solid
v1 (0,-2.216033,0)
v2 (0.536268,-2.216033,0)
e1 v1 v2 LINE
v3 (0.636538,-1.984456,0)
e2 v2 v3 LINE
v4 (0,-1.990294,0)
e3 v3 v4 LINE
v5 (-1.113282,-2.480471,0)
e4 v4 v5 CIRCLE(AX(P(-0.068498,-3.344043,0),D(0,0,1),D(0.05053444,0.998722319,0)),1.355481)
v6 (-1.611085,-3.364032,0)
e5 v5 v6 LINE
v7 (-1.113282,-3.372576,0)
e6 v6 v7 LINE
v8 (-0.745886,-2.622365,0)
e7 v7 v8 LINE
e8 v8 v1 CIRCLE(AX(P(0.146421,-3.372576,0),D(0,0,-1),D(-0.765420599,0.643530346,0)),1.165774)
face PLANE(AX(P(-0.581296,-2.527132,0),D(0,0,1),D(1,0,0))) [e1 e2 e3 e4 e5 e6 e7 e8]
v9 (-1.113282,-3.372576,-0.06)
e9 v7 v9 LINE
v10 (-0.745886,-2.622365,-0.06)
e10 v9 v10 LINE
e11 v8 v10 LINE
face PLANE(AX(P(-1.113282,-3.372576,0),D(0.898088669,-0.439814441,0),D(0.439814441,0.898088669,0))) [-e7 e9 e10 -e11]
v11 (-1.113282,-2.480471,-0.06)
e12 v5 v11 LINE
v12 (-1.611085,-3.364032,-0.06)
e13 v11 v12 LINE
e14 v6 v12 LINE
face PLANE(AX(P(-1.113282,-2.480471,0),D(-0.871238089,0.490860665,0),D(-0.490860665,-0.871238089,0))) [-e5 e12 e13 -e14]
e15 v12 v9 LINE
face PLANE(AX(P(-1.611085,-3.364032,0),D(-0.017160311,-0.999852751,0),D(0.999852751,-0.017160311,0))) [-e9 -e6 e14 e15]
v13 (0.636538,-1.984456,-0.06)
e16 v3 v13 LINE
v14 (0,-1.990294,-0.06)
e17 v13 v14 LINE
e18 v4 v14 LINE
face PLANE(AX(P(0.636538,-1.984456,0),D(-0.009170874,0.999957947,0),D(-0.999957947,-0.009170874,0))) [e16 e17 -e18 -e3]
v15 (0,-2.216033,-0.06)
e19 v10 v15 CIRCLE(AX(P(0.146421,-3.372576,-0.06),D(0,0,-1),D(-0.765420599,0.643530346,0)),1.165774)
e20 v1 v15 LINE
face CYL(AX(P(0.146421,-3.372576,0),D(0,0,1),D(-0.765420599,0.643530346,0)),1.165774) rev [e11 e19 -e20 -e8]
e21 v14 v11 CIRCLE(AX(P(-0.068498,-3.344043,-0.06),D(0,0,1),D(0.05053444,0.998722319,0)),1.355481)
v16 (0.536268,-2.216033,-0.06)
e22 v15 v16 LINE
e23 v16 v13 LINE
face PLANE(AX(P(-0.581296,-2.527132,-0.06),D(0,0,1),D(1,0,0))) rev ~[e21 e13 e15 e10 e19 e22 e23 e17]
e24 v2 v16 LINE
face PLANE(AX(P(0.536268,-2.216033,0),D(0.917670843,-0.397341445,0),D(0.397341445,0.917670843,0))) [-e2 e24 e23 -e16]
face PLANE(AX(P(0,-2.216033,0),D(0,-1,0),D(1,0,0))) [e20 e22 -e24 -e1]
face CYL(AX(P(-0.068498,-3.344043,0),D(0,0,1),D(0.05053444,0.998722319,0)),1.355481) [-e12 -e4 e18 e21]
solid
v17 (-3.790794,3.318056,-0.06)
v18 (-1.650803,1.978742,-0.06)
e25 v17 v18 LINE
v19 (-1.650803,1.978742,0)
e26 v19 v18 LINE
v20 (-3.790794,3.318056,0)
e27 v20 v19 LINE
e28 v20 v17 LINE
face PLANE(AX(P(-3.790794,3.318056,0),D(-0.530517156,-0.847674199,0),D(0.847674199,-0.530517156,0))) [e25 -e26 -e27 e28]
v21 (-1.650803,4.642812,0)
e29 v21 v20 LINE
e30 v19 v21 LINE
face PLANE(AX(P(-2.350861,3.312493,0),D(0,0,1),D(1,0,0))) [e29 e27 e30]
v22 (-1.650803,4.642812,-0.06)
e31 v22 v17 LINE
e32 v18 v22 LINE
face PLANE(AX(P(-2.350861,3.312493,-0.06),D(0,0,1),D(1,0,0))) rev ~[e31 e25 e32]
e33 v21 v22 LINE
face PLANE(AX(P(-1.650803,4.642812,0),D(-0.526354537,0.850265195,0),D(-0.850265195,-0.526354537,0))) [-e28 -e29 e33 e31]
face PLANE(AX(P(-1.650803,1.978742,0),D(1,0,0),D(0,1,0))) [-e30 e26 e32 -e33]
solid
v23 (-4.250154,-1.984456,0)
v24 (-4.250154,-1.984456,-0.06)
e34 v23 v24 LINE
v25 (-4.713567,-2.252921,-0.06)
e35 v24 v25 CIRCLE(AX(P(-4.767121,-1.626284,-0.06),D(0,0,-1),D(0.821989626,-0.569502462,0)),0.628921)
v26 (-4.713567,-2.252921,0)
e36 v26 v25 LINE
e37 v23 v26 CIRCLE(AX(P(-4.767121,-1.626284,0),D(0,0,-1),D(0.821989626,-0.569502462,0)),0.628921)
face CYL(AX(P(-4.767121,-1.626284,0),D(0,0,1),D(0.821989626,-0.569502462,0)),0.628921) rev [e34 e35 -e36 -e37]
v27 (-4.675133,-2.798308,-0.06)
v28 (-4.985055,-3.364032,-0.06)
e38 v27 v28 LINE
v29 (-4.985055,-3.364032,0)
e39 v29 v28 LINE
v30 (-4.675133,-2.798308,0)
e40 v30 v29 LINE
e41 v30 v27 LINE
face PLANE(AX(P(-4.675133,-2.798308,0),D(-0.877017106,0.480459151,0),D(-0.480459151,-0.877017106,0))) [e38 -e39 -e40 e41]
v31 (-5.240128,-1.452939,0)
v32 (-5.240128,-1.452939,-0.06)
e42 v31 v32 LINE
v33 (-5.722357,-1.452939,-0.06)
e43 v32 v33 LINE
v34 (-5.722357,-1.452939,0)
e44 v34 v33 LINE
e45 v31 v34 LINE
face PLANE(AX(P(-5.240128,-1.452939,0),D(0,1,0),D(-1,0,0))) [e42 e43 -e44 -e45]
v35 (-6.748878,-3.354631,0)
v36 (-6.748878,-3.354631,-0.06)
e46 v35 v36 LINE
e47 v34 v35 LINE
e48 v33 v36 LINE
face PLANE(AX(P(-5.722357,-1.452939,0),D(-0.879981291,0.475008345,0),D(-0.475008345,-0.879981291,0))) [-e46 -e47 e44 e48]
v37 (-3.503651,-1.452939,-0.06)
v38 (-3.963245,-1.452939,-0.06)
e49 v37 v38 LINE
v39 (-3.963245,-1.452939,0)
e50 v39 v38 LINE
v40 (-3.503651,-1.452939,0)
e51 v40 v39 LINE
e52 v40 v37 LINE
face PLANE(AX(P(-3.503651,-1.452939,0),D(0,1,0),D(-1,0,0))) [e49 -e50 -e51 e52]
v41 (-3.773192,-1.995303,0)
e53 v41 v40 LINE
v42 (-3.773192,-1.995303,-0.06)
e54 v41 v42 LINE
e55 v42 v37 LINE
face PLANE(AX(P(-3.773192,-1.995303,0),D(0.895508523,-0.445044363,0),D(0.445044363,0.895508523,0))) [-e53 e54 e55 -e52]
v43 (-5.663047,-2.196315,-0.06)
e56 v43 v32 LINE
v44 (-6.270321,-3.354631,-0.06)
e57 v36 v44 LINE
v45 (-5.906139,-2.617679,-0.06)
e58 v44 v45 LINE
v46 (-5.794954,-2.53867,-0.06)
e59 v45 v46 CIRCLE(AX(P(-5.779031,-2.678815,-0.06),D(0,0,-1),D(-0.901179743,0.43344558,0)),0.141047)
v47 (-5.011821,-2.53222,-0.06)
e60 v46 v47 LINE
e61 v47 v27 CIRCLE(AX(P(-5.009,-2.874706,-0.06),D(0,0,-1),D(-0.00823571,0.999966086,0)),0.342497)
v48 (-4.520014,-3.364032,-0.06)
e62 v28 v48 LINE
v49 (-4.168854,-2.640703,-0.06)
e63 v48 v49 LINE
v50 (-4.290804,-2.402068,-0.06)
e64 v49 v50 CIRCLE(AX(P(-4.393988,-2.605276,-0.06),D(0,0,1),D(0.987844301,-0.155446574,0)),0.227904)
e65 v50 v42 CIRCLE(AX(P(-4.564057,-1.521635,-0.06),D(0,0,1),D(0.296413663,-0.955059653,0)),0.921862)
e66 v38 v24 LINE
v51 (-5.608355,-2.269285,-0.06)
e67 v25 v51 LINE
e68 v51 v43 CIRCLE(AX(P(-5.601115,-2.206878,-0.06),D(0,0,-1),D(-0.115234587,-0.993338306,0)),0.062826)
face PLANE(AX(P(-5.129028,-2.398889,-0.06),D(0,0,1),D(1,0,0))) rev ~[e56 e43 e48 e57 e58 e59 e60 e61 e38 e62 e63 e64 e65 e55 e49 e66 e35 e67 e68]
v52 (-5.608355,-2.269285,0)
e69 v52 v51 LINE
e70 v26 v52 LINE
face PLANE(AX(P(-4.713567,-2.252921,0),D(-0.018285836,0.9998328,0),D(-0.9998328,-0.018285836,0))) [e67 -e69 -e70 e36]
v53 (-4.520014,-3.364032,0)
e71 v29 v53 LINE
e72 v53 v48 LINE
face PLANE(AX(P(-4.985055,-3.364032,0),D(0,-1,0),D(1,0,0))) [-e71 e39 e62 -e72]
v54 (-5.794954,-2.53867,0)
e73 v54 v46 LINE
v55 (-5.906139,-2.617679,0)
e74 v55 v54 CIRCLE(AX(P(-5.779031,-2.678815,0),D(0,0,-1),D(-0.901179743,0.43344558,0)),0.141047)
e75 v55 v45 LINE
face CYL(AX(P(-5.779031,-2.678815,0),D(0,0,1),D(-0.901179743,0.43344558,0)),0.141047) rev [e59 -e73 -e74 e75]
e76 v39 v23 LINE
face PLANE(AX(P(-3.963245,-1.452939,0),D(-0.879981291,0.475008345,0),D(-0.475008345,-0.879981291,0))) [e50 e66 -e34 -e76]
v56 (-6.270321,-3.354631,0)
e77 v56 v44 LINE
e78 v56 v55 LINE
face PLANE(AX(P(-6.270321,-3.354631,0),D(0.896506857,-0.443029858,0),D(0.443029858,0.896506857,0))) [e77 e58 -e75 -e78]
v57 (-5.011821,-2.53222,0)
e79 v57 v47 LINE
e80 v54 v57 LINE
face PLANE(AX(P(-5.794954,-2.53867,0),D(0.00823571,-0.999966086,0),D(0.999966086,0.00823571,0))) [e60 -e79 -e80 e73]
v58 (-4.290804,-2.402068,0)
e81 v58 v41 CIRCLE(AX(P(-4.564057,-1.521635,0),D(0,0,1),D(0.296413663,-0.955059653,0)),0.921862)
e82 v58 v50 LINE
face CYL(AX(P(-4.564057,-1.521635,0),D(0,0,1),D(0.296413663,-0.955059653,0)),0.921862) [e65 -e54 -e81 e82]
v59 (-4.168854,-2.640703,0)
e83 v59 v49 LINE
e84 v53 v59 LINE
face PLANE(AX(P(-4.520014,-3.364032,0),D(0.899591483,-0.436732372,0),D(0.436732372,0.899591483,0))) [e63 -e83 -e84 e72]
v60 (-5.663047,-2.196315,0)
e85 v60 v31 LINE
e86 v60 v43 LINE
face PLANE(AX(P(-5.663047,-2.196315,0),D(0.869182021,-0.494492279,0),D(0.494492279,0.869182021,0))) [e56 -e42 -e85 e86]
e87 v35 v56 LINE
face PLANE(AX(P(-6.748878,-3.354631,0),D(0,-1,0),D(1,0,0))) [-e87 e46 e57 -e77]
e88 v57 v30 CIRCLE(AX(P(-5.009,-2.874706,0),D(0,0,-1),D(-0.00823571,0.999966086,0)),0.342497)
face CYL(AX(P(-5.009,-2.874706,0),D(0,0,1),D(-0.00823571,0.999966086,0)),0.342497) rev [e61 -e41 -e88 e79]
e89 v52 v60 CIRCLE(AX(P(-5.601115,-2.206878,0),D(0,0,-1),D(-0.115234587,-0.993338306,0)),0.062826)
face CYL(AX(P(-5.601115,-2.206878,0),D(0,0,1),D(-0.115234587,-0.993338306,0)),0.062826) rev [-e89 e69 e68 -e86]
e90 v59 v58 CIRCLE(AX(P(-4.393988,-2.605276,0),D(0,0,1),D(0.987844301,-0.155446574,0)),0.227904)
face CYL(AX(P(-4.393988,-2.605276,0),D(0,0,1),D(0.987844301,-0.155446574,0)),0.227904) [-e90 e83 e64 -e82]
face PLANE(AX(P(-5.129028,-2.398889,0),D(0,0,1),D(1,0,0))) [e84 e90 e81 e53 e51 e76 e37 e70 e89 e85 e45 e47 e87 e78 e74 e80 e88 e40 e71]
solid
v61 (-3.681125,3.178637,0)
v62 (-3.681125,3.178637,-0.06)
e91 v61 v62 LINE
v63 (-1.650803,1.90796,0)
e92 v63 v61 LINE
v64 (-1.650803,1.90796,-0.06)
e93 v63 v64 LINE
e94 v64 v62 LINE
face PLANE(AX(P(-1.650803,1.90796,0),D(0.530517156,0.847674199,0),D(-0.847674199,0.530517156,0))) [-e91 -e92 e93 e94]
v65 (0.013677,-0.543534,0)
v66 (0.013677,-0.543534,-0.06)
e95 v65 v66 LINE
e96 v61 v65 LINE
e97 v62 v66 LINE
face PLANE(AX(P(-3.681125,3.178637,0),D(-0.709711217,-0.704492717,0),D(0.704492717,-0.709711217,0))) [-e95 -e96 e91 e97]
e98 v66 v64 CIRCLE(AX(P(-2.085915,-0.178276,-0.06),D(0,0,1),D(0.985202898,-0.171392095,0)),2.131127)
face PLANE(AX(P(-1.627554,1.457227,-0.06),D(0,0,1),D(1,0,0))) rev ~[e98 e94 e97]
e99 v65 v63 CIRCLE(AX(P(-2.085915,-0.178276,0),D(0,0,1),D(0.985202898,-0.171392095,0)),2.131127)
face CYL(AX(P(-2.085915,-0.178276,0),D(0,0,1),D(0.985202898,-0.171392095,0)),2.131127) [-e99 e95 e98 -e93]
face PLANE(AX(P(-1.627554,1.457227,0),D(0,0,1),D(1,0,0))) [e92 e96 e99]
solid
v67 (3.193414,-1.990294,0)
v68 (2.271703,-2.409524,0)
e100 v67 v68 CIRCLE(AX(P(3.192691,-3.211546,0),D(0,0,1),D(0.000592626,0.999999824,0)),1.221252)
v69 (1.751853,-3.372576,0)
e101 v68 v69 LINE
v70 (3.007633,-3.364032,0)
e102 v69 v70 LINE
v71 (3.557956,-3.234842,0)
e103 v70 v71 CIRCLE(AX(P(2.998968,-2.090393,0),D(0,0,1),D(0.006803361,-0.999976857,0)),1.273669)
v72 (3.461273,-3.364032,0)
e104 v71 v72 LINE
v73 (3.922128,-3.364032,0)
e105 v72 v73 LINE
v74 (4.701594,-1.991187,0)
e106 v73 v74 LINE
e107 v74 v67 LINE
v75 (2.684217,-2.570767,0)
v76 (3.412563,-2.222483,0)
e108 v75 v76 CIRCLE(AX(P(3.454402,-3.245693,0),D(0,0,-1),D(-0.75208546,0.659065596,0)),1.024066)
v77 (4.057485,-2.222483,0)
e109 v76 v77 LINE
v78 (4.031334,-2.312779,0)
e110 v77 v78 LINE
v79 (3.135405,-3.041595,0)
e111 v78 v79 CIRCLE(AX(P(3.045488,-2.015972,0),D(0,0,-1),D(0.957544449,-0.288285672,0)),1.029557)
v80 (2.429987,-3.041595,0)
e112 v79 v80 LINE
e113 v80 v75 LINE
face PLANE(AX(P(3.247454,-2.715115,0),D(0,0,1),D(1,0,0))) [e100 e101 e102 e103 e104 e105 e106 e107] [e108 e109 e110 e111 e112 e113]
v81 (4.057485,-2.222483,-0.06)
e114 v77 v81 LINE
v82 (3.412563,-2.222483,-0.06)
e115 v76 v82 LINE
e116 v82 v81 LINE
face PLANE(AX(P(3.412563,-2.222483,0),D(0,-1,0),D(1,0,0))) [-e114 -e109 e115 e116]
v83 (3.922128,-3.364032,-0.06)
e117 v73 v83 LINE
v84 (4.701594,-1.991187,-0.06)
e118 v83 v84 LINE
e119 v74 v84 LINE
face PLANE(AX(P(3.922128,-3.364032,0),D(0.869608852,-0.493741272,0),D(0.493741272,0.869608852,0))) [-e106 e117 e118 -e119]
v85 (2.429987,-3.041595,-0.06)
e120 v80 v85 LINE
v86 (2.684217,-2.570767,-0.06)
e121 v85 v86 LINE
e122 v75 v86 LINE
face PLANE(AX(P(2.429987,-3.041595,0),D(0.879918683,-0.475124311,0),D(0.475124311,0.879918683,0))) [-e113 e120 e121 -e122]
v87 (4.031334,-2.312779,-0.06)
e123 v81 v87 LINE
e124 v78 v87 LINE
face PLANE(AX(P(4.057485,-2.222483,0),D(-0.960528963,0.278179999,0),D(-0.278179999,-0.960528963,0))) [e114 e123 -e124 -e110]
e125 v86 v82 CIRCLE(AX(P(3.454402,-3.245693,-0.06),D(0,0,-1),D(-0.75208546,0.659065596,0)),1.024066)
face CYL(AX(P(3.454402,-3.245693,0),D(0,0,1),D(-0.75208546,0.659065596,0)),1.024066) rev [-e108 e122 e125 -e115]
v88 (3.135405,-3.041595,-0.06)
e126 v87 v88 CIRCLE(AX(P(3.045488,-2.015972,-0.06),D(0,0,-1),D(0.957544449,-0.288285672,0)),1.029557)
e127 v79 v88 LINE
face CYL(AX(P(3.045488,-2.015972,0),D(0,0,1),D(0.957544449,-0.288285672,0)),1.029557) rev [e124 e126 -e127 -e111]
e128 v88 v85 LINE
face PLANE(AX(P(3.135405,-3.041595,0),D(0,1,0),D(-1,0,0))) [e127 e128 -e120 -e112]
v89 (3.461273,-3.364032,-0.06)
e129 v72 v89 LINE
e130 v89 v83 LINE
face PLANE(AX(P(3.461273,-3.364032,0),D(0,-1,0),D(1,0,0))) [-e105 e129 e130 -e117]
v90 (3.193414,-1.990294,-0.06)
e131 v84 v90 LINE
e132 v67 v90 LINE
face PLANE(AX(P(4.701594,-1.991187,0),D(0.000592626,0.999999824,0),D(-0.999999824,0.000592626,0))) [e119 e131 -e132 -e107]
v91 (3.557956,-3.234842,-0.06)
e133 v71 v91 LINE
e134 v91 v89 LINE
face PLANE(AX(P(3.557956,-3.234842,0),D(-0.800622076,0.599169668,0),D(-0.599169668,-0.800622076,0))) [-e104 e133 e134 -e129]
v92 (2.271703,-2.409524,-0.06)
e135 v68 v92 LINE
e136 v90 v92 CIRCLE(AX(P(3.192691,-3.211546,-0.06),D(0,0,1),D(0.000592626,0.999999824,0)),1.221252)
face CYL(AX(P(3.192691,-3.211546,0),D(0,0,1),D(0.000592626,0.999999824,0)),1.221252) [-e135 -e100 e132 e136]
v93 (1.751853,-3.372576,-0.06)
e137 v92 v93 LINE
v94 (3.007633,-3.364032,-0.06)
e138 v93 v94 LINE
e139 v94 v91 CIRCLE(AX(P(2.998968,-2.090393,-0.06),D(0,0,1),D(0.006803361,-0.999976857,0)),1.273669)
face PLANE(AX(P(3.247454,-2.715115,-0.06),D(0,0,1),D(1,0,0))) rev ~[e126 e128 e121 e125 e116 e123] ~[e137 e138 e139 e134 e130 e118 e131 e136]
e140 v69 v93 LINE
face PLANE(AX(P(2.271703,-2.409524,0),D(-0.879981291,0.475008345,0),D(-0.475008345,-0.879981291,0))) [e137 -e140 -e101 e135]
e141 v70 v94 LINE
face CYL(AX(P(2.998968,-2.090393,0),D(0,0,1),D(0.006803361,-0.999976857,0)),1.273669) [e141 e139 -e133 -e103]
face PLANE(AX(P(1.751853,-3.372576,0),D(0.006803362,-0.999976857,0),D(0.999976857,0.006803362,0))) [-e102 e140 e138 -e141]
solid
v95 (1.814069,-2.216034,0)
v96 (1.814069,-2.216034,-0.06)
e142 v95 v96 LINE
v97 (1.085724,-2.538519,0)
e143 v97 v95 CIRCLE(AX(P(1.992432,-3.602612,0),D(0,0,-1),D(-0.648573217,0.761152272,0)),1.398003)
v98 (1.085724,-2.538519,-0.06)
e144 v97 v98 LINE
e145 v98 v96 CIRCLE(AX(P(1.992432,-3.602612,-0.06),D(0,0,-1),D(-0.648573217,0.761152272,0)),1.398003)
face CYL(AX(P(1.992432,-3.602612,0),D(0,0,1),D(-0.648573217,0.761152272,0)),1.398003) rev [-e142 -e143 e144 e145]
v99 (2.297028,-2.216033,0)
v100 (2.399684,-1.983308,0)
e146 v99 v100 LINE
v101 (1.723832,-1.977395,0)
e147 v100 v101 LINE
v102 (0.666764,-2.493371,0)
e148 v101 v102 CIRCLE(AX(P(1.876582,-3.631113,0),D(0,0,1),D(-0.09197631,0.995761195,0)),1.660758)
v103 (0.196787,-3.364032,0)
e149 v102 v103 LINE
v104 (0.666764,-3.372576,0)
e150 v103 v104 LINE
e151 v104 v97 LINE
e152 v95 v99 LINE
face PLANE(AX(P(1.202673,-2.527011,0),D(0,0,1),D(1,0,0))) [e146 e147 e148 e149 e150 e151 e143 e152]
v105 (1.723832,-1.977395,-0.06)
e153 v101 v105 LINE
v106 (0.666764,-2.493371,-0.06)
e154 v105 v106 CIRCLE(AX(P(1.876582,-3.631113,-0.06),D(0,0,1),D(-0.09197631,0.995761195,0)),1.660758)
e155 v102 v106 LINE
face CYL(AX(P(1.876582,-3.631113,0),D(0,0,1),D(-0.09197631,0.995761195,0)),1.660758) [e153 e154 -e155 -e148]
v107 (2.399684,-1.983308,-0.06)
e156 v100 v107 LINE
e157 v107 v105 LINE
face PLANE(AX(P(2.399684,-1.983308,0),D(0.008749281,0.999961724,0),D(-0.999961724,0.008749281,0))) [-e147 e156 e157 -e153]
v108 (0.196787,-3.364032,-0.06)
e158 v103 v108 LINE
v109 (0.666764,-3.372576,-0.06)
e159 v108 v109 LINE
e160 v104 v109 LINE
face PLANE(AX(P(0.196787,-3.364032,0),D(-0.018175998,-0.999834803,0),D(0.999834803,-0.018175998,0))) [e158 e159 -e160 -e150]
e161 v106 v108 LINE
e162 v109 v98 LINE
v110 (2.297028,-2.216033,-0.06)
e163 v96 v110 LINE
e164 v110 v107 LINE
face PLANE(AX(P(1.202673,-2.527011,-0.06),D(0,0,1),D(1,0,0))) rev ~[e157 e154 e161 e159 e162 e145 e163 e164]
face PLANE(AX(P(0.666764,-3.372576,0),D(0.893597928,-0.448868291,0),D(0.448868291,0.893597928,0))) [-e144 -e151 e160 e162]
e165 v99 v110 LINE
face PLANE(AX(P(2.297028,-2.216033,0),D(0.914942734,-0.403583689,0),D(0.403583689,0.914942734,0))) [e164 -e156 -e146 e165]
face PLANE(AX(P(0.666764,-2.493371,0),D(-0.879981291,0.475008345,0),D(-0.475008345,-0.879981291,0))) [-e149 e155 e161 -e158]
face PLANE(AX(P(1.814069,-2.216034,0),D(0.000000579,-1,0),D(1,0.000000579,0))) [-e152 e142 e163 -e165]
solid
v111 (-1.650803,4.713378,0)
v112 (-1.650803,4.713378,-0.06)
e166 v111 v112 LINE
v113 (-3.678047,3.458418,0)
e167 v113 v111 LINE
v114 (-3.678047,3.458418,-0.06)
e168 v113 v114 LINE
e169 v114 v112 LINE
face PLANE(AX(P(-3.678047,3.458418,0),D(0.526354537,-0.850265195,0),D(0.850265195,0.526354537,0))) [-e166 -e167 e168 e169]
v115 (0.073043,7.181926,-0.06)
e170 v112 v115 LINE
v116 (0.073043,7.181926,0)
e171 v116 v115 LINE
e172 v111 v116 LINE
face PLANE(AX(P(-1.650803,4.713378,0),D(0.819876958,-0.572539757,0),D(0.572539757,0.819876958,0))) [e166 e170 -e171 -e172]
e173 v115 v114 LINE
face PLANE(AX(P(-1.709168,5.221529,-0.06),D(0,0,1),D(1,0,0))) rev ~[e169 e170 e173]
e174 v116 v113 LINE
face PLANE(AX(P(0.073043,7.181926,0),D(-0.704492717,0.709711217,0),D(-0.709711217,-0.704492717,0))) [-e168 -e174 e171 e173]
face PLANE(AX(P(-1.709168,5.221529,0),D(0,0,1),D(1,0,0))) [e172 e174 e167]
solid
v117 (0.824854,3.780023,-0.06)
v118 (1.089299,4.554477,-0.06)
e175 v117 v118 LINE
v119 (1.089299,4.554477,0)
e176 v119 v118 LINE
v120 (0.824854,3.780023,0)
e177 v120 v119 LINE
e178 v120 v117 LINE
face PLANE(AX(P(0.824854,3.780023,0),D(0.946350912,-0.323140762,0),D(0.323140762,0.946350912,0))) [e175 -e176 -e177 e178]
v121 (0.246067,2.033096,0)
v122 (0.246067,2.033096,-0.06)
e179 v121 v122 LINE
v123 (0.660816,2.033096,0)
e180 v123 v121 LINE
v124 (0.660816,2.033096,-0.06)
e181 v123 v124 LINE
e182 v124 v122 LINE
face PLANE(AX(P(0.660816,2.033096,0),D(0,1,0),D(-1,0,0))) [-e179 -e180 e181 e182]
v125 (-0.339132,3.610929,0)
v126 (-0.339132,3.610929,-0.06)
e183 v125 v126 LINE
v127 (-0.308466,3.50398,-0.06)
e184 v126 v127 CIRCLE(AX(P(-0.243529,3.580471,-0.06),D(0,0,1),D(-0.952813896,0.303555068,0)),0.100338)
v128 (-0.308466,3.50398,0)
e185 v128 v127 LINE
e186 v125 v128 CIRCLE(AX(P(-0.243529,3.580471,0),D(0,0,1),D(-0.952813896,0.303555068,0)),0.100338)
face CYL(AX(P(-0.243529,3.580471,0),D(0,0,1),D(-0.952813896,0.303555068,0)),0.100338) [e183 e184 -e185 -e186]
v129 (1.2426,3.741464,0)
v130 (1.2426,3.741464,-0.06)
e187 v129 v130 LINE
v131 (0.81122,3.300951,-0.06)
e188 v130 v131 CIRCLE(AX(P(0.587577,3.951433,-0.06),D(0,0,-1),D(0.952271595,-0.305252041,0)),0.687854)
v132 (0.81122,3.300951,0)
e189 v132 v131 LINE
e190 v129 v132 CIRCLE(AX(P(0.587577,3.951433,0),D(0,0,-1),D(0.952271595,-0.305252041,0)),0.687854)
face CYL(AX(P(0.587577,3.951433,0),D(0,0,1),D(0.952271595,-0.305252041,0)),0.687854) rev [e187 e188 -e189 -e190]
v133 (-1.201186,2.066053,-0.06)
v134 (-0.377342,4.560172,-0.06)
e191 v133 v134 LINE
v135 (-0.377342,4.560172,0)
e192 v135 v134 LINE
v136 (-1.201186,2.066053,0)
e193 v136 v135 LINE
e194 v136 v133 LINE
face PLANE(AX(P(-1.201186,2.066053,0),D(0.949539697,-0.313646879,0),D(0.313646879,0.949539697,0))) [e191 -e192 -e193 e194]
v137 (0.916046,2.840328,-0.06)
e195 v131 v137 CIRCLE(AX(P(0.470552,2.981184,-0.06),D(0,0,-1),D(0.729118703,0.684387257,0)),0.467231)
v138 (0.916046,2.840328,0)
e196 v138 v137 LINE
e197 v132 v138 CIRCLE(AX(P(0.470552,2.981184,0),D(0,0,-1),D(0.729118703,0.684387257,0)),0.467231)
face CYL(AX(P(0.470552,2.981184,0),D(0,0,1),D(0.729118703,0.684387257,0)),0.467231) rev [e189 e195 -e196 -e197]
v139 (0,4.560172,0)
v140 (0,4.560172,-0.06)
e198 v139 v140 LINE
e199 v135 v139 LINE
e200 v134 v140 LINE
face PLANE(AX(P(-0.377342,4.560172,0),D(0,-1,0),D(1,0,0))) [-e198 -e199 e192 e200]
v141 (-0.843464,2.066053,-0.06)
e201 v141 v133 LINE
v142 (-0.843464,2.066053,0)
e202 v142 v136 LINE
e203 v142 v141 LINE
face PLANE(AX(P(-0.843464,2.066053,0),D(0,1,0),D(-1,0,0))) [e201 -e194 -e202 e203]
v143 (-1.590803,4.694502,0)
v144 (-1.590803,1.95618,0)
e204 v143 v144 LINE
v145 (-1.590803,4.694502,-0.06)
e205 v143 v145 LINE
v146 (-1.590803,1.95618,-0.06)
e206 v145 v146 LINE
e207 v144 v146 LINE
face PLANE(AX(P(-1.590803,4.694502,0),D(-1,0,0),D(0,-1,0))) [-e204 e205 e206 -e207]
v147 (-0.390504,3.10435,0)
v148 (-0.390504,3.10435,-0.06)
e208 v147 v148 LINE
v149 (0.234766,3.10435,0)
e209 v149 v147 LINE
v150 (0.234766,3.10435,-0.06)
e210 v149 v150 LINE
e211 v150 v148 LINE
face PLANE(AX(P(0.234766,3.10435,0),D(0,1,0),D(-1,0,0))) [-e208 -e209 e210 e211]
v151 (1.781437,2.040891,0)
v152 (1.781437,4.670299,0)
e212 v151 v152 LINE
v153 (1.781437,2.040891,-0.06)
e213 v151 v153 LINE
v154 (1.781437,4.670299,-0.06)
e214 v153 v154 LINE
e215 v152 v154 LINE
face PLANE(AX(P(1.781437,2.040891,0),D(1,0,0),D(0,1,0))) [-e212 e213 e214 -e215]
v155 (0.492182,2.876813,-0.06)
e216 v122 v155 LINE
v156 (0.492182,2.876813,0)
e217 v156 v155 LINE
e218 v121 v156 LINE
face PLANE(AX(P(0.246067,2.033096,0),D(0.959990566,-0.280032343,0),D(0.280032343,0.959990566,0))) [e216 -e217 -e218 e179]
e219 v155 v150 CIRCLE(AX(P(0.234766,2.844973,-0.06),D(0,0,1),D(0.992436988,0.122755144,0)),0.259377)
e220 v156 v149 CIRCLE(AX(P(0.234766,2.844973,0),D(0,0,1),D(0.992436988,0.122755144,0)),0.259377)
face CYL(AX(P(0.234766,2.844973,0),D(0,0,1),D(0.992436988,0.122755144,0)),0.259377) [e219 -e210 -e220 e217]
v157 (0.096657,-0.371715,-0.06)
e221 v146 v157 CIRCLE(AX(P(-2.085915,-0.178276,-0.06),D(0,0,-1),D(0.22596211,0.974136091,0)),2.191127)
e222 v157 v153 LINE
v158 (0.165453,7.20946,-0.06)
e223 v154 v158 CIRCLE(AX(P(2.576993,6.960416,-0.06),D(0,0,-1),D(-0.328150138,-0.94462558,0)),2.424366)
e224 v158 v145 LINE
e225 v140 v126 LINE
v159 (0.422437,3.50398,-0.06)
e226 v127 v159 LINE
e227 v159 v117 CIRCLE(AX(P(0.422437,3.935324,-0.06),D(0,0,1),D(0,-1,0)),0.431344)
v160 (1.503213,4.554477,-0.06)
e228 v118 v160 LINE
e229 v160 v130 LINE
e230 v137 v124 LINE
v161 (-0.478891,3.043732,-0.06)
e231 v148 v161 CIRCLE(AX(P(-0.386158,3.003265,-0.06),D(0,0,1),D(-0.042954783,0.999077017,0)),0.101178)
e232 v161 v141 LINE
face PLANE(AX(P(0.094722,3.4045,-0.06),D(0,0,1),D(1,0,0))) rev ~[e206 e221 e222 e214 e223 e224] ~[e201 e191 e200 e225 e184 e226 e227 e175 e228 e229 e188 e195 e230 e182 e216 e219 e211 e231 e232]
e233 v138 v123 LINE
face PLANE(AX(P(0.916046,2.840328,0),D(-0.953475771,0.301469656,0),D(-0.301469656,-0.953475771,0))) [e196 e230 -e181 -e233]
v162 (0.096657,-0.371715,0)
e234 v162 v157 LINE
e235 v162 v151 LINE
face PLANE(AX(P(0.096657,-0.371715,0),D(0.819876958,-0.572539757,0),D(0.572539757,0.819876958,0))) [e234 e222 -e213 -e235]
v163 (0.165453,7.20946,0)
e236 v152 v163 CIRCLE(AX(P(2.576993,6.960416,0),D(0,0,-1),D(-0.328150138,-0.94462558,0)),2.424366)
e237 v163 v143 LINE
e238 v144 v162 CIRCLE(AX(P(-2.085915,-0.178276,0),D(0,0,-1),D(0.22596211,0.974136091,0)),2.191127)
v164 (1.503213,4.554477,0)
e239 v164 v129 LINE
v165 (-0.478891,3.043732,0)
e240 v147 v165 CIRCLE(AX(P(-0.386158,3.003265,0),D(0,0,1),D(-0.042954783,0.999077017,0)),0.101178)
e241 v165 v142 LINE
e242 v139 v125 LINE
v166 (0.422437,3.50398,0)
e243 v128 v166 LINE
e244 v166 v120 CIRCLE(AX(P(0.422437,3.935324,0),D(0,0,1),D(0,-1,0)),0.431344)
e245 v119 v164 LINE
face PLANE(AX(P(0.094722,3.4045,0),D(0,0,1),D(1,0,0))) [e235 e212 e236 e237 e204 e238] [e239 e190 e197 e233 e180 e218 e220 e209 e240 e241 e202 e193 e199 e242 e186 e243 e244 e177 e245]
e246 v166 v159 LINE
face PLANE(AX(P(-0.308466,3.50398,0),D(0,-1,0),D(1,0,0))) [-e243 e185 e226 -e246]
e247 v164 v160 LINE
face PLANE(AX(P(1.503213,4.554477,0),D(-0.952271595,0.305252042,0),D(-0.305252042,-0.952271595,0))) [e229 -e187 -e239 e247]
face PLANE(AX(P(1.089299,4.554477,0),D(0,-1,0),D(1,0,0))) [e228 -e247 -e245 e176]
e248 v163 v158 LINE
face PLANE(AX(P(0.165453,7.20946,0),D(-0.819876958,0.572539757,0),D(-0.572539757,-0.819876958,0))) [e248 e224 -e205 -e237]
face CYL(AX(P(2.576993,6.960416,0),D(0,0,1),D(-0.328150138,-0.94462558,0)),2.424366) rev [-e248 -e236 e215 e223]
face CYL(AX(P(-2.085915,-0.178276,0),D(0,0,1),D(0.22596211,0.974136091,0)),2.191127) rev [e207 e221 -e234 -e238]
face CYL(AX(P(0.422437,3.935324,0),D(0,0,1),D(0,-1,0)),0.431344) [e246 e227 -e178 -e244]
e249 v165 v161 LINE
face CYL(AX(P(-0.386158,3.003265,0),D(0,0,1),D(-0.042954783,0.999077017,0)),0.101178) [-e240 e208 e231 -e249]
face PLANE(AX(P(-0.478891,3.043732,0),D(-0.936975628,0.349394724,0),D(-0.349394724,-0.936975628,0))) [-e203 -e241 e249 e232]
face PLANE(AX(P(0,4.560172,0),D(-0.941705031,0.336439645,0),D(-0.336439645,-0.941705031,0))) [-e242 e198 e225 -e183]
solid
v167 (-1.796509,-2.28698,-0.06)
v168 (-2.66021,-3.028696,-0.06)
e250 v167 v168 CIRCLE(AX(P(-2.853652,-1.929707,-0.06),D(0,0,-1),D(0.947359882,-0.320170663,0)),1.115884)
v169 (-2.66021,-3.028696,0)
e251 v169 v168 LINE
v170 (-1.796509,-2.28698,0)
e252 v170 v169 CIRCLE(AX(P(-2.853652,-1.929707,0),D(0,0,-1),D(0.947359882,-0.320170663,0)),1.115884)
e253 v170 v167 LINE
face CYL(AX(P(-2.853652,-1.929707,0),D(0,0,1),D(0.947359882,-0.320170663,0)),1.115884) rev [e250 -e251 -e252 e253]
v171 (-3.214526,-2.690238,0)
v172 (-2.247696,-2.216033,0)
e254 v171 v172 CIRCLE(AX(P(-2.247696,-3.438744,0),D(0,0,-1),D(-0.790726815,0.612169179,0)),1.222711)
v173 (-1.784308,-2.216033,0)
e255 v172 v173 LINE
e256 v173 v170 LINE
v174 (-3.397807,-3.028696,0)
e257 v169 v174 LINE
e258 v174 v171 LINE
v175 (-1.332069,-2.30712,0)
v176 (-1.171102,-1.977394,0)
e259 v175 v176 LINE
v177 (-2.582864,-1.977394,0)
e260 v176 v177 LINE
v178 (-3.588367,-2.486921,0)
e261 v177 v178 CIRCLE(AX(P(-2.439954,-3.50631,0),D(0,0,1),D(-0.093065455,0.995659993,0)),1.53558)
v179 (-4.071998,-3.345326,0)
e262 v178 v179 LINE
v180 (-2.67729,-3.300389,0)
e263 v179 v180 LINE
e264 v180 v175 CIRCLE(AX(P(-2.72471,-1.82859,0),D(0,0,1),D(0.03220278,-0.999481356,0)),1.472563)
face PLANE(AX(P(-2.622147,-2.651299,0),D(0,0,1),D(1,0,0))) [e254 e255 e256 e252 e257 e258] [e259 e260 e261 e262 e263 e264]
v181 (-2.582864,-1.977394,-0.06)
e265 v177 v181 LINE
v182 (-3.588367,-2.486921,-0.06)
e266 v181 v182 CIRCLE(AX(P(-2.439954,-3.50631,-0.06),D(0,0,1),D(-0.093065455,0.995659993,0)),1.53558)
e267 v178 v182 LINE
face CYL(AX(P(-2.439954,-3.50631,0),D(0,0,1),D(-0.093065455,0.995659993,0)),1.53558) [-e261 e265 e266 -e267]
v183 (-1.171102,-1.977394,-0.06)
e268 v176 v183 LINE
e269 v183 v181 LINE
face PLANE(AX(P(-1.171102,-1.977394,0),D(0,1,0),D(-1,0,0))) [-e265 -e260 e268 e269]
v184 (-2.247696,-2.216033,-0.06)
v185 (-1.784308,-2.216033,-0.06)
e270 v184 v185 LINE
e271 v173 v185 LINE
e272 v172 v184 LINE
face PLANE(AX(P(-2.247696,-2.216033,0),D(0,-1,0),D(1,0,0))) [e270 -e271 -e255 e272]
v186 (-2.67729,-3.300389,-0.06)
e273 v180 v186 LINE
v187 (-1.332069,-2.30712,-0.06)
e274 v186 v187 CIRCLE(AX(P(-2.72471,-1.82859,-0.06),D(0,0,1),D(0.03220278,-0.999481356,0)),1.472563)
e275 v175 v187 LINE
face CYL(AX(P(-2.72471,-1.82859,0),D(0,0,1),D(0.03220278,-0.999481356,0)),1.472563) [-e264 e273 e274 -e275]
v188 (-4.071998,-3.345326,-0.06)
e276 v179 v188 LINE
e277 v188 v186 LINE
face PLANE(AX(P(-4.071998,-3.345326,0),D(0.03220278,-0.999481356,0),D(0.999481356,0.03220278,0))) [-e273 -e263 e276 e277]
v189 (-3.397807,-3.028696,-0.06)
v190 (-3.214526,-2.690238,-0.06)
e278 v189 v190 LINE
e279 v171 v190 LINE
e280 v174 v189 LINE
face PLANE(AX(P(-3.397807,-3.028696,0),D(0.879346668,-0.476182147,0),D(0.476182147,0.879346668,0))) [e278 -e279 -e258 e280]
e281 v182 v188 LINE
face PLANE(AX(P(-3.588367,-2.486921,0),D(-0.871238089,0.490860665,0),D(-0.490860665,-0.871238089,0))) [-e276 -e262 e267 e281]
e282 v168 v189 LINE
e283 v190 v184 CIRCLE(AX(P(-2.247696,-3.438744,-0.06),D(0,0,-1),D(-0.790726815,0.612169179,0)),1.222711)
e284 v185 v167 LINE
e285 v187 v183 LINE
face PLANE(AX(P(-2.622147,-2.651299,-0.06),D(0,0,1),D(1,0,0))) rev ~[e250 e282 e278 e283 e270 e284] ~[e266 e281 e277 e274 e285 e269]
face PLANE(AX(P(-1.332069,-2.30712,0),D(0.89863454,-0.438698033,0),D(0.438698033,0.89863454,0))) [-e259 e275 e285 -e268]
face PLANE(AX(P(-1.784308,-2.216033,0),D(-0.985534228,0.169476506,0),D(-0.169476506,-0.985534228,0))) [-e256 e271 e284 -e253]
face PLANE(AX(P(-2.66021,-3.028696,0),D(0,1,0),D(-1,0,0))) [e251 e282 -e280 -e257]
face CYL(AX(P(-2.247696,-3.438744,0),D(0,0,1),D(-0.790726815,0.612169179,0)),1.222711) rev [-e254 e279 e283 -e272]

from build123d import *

# Parameters (mm, degrees)
F1_DEPTH = 0.2
F2_SCALE = 0.3


with BuildPart() as f1:
    # F0 (on Top) → F1 (new body)
    with BuildSketch(Plane.XY):
        with BuildLine():
            Line((0.3221887287, -1.2390491494), (5.9381237452, 6.8029700547))
            Line((5.9381237452, 6.8029700547), (5.9381237452, 15.5676616906))
            ThreePointArc((5.9381237452, 15.5676616906), (1.7723507567, 18.8624852196), (0.551509194, 24.0315347027))
            Line((0.551509194, 24.0315347027), (-5.3026779883, 15.6483383863))
            Line((-5.3026779883, 15.6483383863), (-5.3026779883, 6.5205997522))
            ThreePointArc((-5.3026779883, 6.5205997522), (-1.0395342394, 3.6923760496), (0.3221887287, -1.2390491494))
        make_face()
        with BuildLine():
            Line((-4.0039531887, 6.8868417293), (-1.2578062015, 15.2005720884))
            Line((-1.2578062015, 15.2005720884), (0, 15.2005720884))
            Line((0, 15.2005720884), (-1.1304413683, 12.0364315361))
            ThreePointArc((-1.1304413683, 12.0364315361), (-1.1332673696, 11.8427166471), (-1.0282194708, 11.6799334064))
            Line((-1.0282194708, 11.6799334064), (1.4081238769, 11.6799334064))
            ThreePointArc((1.4081238769, 11.6799334064), (2.2214482851, 11.9320780556), (2.7495124377, 12.6000763848))
            Line((2.7495124377, 12.6000763848), (3.6309957504, 15.181590803))
            Line((3.6309957504, 15.181590803), (5.0107096322, 15.181590803))
            Line((5.0107096322, 15.181590803), (4.1420012712, 12.4715473503))
            ThreePointArc((4.1420012712, 12.4715473503), (3.5967677723, 11.5672258478), (2.7040650602, 11.0031701624))
            ThreePointArc((2.7040650602, 11.0031701624), (3.0871173523, 10.2828780548), (3.0534872785, 9.4677591696))
            Line((3.0534872785, 9.4677591696), (2.2027201485, 6.7769880407))
            Line((2.2027201485, 6.7769880407), (0.820223242, 6.7769880407))
            Line((0.820223242, 6.7769880407), (1.6406058567, 9.589375928))
            ThreePointArc((1.6406058567, 9.589375928), (1.3551604564, 10.1310381804), (0.782554911, 10.3478329256))
            Line((0.782554911, 10.3478329256), (-1.3016803423, 10.3478329256))
            ThreePointArc((-1.3016803423, 10.3478329256), (-1.4779448579, 10.2890176936), (-1.5963046791, 10.1457718779))
            Line((-1.5963046791, 10.1457718779), (-2.8115476016, 6.8868417293))
            Line((-2.8115476016, 6.8868417293), (-4.0039531887, 6.8868417293))
        make_face(mode=Mode.SUBTRACT)
    extrude(amount=-F1_DEPTH)


with BuildPart() as f1b:
    # F0 (on Top) → F1, piece 2 (new body)
    with BuildSketch(Plane.XY):
        with BuildLine():
            ThreePointArc((0.0455915557, -1.8117811989), (-1.0759408053, 3.3961031617), (-5.5026779883, 6.3598663546))
            Line((-5.5026779883, 6.3598663546), (-12.2704175663, 10.5954582346))
            Line((-12.2704175663, 10.5954582346), (0.0455915557, -1.8117811989))
        make_face()
    extrude(amount=-F1_DEPTH)


with BuildPart() as f1c:
    # F0 (on Top) → F1, piece 3 (new body)
    with BuildSketch(Plane.XY):
        Polygon((-5.5026779883, 6.5958060592), (-5.5026779883, 15.4760383667), (-12.635980278, 11.0601854738), align=None)
    extrude(amount=-F1_DEPTH)


with BuildPart() as f1d:
    # F0 (on Top) → F1, piece 4 (new body)
    with BuildSketch(Plane.XY):
        Polygon((-12.2601570899, 11.528058606), (-5.5026779883, 15.7112590969), (0.2434776577, 23.9397542483), align=None)
    extrude(amount=-F1_DEPTH)


with BuildPart() as f1e:
    # F0 (on Top) → F1, piece 5 (new body)
    with BuildSketch(Plane.XY):
        with BuildLine():
            Line((15.6719795434, -6.6372910397), (10.644714348, -6.6343117505))
            ThreePointArc((10.644714348, -6.6343117505), (8.956874135, -6.9996048306), (7.5723426417, -8.0317463726))
            Line((7.5723426417, -8.0317463726), (5.8395114478, -11.2419195165))
            Line((5.8395114478, -11.2419195165), (10.0254435092, -11.213440448))
            ThreePointArc((10.0254435092, -11.213440448), (10.9668398403, -11.1011779704), (11.8598518893, -10.7828080654))
            Line((11.8598518893, -10.7828080654), (11.5375751629, -11.213440448))
            Line((11.5375751629, -11.213440448), (13.0737610161, -11.213440448))
            Line((13.0737610161, -11.213440448), (15.6719795434, -6.6372910397))
        make_face()
        with BuildLine():
            ThreePointArc((8.9473901317, -8.5692228749), (10.0420664485, -7.7394049699), (11.3752083853, -7.4082757346))
            Line((11.3752083853, -7.4082757346), (13.5249486193, -7.4082757346))
            Line((13.5249486193, -7.4082757346), (13.4377796203, -7.7092619613))
            ThreePointArc((13.4377796203, -7.7092619613), (12.3172915564, -9.3821473425), (10.4513484985, -10.1386494935))
            Line((10.4513484985, -10.1386494935), (8.0999564379, -10.1386494935))
            Line((8.0999564379, -10.1386494935), (8.9473901317, -8.5692228749))
        make_face(mode=Mode.SUBTRACT)
    extrude(amount=-F1_DEPTH)


with BuildPart() as f1f:
    # F0 (on Top) → F1, piece 6 (new body)
    with BuildSketch(Plane.XY):
        with BuildLine():
            Line((7.9989461764, -6.6110268672), (5.7461061515, -6.5913153812))
            ThreePointArc((5.7461061515, -6.5913153812), (3.8269548312, -7.1288721816), (2.2225470748, -8.3112362772))
            Line((2.2225470748, -8.3112362772), (0.6559555881, -11.213440448))
            Line((0.6559555881, -11.213440448), (2.2225470748, -11.2419195165))
            Line((2.2225470748, -11.2419195165), (3.6190801766, -8.4617296234))
            ThreePointArc((3.6190801766, -8.4617296234), (4.7548095867, -7.7476826092), (6.0468981974, -7.386778947))
            Line((6.0468981974, -7.386778947), (7.6567602687, -7.3867780156))
            Line((7.6567602687, -7.3867780156), (7.9989461764, -6.6110268672))
        make_face()
    extrude(amount=-F1_DEPTH)


with BuildPart() as f1g:
    # F0 (on Top) → F1, piece 7 (new body)
    with BuildSketch(Plane.XY):
        with BuildLine():
            ThreePointArc((-2.486287849, -8.7412158027), (-1.3708885374, -7.8295011783), (0, -7.3867780156))
            Line((0, -7.3867780156), (1.7875585472, -7.3867780156))
            Line((1.7875585472, -7.3867780156), (2.1217935719, -6.6148531623))
            Line((2.1217935719, -6.6148531623), (0, -6.6343126819))
            ThreePointArc((0, -6.6343126819), (-2.0490469004, -7.011625802), (-3.7109393161, -8.268237114))
            Line((-3.7109393161, -8.268237114), (-5.3702842035, -11.213440448))
            Line((-5.3702842035, -11.213440448), (-3.7109393161, -11.2419195165))
            Line((-3.7109393161, -11.2419195165), (-2.486287849, -8.7412158027))
        make_face()
    extrude(amount=-F1_DEPTH)


with BuildPart() as f1h:
    # F0 (on Top) → F1, piece 8 (new body)
    with BuildSketch(Plane.XY):
        with BuildLine():
            Line((-3.9036741946, -6.5913149156), (-8.6095463485, -6.5913149156))
            ThreePointArc((-8.6095463485, -6.5913149156), (-10.4468670481, -7.12185676), (-11.9612244889, -8.2897366956))
            Line((-11.9612244889, -8.2897366956), (-13.5733263679, -11.1510875002))
            Line((-13.5733263679, -11.1510875002), (-8.9242989197, -11.0012982041))
            ThreePointArc((-8.9242989197, -11.0012982041), (-6.1667191094, -10.0440713662), (-4.4402293861, -7.6904012822))
            Line((-4.4402293861, -7.6904012822), (-3.9036741946, -6.5913149156))
        make_face()
        with BuildLine():
            ThreePointArc((-5.9883617796, -7.6232668944), (-7.0888461772, -9.2542353693), (-8.8673681021, -10.0956531242))
            Line((-8.8673681021, -10.0956531242), (-11.3260233775, -10.0956531242))
            Line((-11.3260233775, -10.0956531242), (-10.7150869444, -8.9674610645))
            ThreePointArc((-10.7150869444, -8.9674610645), (-9.2870890069, -7.8032245883), (-7.4923196808, -7.3867780156))
            Line((-7.4923196808, -7.3867780156), (-5.9476941824, -7.3867780156))
            Line((-5.9476941824, -7.3867780156), (-5.9883617796, -7.6232668944))
        make_face(mode=Mode.SUBTRACT)
    extrude(amount=-F1_DEPTH)


with BuildPart() as f1i:
    # F0 (on Top) → F1, piece 9 (new body)
    with BuildSketch(Plane.XY):
        with BuildLine():
            ThreePointArc((-14.1671802849, -6.6148531623), (-14.8395201872, -7.2349347814), (-15.7118886709, -7.5097354129))
            Line((-15.7118886709, -7.5097354129), (-18.6945162714, -7.5642843731))
            ThreePointArc((-18.6945162714, -7.5642843731), (-18.8379589434, -7.4818591939), (-18.8768226653, -7.3210508563))
            Line((-18.8768226653, -7.3210508563), (-17.4670927227, -4.8431316391))
            Line((-17.4670927227, -4.8431316391), (-19.0745219588, -4.8431316391))
            Line((-19.0745219588, -4.8431316391), (-22.49625884, -11.1821033061))
            Line((-22.49625884, -11.1821033061), (-20.9010709077, -11.1821033061))
            Line((-20.9010709077, -11.1821033061), (-19.6871310472, -8.7255975232))
            ThreePointArc((-19.6871310472, -8.7255975232), (-19.5357739882, -8.5461370978), (-19.3165130913, -8.4622344002))
            Line((-19.3165130913, -8.4622344002), (-16.7060699314, -8.4407348186))
            ThreePointArc((-16.7060699314, -8.4407348186), (-15.9887854149, -8.68665027), (-15.5837750062, -9.3276947737))
            Line((-15.5837750062, -9.3276947737), (-16.6168492287, -11.213440448))
            Line((-16.6168492287, -11.213440448), (-15.066714026, -11.213440448))
            Line((-15.066714026, -11.213440448), (-13.8961784542, -8.8023440912))
            ThreePointArc((-13.8961784542, -8.8023440912), (-13.9701576636, -8.3385560844), (-14.3026812002, -8.0068930984))
            ThreePointArc((-14.3026812002, -8.0068930984), (-13.3148360087, -7.4882155641), (-12.5773055479, -6.6510098986))
            Line((-12.5773055479, -6.6510098986), (-11.6788372397, -4.8431316391))
            Line((-11.6788372397, -4.8431316391), (-13.2108161934, -4.8431316391))
            Line((-13.2108161934, -4.8431316391), (-14.1671802849, -6.6148531623))
        make_face()
    extrude(amount=-F1_DEPTH)


with BuildPart() as f1b_1:
    # F2: moved
    add(f1b.part.scale(F2_SCALE))


with BuildPart() as f1i_1:
    # F2: moved
    add(f1i.part.scale(F2_SCALE))


with BuildPart() as f1h_1:
    # F2: moved
    add(f1h.part.scale(F2_SCALE))


with BuildPart() as f1g_1:
    # F2: moved
    add(f1g.part.scale(F2_SCALE))


with BuildPart() as f1c_1:
    # F2: moved
    add(f1c.part.scale(F2_SCALE))


with BuildPart() as f1d_1:
    # F2: moved
    add(f1d.part.scale(F2_SCALE))


with BuildPart() as f1_1:
    # F2: moved
    add(f1.part.scale(F2_SCALE))


with BuildPart() as f1f_1:
    # F2: moved
    add(f1f.part.scale(F2_SCALE))


with BuildPart() as f1e_1:
    # F2: moved
    add(f1e.part.scale(F2_SCALE))


solid = Compound([f1b_1.part, f1i_1.part, f1h_1.part, f1g_1.part, f1c_1.part, f1d_1.part, f1_1.part, f1f_1.part, f1e_1.part])
